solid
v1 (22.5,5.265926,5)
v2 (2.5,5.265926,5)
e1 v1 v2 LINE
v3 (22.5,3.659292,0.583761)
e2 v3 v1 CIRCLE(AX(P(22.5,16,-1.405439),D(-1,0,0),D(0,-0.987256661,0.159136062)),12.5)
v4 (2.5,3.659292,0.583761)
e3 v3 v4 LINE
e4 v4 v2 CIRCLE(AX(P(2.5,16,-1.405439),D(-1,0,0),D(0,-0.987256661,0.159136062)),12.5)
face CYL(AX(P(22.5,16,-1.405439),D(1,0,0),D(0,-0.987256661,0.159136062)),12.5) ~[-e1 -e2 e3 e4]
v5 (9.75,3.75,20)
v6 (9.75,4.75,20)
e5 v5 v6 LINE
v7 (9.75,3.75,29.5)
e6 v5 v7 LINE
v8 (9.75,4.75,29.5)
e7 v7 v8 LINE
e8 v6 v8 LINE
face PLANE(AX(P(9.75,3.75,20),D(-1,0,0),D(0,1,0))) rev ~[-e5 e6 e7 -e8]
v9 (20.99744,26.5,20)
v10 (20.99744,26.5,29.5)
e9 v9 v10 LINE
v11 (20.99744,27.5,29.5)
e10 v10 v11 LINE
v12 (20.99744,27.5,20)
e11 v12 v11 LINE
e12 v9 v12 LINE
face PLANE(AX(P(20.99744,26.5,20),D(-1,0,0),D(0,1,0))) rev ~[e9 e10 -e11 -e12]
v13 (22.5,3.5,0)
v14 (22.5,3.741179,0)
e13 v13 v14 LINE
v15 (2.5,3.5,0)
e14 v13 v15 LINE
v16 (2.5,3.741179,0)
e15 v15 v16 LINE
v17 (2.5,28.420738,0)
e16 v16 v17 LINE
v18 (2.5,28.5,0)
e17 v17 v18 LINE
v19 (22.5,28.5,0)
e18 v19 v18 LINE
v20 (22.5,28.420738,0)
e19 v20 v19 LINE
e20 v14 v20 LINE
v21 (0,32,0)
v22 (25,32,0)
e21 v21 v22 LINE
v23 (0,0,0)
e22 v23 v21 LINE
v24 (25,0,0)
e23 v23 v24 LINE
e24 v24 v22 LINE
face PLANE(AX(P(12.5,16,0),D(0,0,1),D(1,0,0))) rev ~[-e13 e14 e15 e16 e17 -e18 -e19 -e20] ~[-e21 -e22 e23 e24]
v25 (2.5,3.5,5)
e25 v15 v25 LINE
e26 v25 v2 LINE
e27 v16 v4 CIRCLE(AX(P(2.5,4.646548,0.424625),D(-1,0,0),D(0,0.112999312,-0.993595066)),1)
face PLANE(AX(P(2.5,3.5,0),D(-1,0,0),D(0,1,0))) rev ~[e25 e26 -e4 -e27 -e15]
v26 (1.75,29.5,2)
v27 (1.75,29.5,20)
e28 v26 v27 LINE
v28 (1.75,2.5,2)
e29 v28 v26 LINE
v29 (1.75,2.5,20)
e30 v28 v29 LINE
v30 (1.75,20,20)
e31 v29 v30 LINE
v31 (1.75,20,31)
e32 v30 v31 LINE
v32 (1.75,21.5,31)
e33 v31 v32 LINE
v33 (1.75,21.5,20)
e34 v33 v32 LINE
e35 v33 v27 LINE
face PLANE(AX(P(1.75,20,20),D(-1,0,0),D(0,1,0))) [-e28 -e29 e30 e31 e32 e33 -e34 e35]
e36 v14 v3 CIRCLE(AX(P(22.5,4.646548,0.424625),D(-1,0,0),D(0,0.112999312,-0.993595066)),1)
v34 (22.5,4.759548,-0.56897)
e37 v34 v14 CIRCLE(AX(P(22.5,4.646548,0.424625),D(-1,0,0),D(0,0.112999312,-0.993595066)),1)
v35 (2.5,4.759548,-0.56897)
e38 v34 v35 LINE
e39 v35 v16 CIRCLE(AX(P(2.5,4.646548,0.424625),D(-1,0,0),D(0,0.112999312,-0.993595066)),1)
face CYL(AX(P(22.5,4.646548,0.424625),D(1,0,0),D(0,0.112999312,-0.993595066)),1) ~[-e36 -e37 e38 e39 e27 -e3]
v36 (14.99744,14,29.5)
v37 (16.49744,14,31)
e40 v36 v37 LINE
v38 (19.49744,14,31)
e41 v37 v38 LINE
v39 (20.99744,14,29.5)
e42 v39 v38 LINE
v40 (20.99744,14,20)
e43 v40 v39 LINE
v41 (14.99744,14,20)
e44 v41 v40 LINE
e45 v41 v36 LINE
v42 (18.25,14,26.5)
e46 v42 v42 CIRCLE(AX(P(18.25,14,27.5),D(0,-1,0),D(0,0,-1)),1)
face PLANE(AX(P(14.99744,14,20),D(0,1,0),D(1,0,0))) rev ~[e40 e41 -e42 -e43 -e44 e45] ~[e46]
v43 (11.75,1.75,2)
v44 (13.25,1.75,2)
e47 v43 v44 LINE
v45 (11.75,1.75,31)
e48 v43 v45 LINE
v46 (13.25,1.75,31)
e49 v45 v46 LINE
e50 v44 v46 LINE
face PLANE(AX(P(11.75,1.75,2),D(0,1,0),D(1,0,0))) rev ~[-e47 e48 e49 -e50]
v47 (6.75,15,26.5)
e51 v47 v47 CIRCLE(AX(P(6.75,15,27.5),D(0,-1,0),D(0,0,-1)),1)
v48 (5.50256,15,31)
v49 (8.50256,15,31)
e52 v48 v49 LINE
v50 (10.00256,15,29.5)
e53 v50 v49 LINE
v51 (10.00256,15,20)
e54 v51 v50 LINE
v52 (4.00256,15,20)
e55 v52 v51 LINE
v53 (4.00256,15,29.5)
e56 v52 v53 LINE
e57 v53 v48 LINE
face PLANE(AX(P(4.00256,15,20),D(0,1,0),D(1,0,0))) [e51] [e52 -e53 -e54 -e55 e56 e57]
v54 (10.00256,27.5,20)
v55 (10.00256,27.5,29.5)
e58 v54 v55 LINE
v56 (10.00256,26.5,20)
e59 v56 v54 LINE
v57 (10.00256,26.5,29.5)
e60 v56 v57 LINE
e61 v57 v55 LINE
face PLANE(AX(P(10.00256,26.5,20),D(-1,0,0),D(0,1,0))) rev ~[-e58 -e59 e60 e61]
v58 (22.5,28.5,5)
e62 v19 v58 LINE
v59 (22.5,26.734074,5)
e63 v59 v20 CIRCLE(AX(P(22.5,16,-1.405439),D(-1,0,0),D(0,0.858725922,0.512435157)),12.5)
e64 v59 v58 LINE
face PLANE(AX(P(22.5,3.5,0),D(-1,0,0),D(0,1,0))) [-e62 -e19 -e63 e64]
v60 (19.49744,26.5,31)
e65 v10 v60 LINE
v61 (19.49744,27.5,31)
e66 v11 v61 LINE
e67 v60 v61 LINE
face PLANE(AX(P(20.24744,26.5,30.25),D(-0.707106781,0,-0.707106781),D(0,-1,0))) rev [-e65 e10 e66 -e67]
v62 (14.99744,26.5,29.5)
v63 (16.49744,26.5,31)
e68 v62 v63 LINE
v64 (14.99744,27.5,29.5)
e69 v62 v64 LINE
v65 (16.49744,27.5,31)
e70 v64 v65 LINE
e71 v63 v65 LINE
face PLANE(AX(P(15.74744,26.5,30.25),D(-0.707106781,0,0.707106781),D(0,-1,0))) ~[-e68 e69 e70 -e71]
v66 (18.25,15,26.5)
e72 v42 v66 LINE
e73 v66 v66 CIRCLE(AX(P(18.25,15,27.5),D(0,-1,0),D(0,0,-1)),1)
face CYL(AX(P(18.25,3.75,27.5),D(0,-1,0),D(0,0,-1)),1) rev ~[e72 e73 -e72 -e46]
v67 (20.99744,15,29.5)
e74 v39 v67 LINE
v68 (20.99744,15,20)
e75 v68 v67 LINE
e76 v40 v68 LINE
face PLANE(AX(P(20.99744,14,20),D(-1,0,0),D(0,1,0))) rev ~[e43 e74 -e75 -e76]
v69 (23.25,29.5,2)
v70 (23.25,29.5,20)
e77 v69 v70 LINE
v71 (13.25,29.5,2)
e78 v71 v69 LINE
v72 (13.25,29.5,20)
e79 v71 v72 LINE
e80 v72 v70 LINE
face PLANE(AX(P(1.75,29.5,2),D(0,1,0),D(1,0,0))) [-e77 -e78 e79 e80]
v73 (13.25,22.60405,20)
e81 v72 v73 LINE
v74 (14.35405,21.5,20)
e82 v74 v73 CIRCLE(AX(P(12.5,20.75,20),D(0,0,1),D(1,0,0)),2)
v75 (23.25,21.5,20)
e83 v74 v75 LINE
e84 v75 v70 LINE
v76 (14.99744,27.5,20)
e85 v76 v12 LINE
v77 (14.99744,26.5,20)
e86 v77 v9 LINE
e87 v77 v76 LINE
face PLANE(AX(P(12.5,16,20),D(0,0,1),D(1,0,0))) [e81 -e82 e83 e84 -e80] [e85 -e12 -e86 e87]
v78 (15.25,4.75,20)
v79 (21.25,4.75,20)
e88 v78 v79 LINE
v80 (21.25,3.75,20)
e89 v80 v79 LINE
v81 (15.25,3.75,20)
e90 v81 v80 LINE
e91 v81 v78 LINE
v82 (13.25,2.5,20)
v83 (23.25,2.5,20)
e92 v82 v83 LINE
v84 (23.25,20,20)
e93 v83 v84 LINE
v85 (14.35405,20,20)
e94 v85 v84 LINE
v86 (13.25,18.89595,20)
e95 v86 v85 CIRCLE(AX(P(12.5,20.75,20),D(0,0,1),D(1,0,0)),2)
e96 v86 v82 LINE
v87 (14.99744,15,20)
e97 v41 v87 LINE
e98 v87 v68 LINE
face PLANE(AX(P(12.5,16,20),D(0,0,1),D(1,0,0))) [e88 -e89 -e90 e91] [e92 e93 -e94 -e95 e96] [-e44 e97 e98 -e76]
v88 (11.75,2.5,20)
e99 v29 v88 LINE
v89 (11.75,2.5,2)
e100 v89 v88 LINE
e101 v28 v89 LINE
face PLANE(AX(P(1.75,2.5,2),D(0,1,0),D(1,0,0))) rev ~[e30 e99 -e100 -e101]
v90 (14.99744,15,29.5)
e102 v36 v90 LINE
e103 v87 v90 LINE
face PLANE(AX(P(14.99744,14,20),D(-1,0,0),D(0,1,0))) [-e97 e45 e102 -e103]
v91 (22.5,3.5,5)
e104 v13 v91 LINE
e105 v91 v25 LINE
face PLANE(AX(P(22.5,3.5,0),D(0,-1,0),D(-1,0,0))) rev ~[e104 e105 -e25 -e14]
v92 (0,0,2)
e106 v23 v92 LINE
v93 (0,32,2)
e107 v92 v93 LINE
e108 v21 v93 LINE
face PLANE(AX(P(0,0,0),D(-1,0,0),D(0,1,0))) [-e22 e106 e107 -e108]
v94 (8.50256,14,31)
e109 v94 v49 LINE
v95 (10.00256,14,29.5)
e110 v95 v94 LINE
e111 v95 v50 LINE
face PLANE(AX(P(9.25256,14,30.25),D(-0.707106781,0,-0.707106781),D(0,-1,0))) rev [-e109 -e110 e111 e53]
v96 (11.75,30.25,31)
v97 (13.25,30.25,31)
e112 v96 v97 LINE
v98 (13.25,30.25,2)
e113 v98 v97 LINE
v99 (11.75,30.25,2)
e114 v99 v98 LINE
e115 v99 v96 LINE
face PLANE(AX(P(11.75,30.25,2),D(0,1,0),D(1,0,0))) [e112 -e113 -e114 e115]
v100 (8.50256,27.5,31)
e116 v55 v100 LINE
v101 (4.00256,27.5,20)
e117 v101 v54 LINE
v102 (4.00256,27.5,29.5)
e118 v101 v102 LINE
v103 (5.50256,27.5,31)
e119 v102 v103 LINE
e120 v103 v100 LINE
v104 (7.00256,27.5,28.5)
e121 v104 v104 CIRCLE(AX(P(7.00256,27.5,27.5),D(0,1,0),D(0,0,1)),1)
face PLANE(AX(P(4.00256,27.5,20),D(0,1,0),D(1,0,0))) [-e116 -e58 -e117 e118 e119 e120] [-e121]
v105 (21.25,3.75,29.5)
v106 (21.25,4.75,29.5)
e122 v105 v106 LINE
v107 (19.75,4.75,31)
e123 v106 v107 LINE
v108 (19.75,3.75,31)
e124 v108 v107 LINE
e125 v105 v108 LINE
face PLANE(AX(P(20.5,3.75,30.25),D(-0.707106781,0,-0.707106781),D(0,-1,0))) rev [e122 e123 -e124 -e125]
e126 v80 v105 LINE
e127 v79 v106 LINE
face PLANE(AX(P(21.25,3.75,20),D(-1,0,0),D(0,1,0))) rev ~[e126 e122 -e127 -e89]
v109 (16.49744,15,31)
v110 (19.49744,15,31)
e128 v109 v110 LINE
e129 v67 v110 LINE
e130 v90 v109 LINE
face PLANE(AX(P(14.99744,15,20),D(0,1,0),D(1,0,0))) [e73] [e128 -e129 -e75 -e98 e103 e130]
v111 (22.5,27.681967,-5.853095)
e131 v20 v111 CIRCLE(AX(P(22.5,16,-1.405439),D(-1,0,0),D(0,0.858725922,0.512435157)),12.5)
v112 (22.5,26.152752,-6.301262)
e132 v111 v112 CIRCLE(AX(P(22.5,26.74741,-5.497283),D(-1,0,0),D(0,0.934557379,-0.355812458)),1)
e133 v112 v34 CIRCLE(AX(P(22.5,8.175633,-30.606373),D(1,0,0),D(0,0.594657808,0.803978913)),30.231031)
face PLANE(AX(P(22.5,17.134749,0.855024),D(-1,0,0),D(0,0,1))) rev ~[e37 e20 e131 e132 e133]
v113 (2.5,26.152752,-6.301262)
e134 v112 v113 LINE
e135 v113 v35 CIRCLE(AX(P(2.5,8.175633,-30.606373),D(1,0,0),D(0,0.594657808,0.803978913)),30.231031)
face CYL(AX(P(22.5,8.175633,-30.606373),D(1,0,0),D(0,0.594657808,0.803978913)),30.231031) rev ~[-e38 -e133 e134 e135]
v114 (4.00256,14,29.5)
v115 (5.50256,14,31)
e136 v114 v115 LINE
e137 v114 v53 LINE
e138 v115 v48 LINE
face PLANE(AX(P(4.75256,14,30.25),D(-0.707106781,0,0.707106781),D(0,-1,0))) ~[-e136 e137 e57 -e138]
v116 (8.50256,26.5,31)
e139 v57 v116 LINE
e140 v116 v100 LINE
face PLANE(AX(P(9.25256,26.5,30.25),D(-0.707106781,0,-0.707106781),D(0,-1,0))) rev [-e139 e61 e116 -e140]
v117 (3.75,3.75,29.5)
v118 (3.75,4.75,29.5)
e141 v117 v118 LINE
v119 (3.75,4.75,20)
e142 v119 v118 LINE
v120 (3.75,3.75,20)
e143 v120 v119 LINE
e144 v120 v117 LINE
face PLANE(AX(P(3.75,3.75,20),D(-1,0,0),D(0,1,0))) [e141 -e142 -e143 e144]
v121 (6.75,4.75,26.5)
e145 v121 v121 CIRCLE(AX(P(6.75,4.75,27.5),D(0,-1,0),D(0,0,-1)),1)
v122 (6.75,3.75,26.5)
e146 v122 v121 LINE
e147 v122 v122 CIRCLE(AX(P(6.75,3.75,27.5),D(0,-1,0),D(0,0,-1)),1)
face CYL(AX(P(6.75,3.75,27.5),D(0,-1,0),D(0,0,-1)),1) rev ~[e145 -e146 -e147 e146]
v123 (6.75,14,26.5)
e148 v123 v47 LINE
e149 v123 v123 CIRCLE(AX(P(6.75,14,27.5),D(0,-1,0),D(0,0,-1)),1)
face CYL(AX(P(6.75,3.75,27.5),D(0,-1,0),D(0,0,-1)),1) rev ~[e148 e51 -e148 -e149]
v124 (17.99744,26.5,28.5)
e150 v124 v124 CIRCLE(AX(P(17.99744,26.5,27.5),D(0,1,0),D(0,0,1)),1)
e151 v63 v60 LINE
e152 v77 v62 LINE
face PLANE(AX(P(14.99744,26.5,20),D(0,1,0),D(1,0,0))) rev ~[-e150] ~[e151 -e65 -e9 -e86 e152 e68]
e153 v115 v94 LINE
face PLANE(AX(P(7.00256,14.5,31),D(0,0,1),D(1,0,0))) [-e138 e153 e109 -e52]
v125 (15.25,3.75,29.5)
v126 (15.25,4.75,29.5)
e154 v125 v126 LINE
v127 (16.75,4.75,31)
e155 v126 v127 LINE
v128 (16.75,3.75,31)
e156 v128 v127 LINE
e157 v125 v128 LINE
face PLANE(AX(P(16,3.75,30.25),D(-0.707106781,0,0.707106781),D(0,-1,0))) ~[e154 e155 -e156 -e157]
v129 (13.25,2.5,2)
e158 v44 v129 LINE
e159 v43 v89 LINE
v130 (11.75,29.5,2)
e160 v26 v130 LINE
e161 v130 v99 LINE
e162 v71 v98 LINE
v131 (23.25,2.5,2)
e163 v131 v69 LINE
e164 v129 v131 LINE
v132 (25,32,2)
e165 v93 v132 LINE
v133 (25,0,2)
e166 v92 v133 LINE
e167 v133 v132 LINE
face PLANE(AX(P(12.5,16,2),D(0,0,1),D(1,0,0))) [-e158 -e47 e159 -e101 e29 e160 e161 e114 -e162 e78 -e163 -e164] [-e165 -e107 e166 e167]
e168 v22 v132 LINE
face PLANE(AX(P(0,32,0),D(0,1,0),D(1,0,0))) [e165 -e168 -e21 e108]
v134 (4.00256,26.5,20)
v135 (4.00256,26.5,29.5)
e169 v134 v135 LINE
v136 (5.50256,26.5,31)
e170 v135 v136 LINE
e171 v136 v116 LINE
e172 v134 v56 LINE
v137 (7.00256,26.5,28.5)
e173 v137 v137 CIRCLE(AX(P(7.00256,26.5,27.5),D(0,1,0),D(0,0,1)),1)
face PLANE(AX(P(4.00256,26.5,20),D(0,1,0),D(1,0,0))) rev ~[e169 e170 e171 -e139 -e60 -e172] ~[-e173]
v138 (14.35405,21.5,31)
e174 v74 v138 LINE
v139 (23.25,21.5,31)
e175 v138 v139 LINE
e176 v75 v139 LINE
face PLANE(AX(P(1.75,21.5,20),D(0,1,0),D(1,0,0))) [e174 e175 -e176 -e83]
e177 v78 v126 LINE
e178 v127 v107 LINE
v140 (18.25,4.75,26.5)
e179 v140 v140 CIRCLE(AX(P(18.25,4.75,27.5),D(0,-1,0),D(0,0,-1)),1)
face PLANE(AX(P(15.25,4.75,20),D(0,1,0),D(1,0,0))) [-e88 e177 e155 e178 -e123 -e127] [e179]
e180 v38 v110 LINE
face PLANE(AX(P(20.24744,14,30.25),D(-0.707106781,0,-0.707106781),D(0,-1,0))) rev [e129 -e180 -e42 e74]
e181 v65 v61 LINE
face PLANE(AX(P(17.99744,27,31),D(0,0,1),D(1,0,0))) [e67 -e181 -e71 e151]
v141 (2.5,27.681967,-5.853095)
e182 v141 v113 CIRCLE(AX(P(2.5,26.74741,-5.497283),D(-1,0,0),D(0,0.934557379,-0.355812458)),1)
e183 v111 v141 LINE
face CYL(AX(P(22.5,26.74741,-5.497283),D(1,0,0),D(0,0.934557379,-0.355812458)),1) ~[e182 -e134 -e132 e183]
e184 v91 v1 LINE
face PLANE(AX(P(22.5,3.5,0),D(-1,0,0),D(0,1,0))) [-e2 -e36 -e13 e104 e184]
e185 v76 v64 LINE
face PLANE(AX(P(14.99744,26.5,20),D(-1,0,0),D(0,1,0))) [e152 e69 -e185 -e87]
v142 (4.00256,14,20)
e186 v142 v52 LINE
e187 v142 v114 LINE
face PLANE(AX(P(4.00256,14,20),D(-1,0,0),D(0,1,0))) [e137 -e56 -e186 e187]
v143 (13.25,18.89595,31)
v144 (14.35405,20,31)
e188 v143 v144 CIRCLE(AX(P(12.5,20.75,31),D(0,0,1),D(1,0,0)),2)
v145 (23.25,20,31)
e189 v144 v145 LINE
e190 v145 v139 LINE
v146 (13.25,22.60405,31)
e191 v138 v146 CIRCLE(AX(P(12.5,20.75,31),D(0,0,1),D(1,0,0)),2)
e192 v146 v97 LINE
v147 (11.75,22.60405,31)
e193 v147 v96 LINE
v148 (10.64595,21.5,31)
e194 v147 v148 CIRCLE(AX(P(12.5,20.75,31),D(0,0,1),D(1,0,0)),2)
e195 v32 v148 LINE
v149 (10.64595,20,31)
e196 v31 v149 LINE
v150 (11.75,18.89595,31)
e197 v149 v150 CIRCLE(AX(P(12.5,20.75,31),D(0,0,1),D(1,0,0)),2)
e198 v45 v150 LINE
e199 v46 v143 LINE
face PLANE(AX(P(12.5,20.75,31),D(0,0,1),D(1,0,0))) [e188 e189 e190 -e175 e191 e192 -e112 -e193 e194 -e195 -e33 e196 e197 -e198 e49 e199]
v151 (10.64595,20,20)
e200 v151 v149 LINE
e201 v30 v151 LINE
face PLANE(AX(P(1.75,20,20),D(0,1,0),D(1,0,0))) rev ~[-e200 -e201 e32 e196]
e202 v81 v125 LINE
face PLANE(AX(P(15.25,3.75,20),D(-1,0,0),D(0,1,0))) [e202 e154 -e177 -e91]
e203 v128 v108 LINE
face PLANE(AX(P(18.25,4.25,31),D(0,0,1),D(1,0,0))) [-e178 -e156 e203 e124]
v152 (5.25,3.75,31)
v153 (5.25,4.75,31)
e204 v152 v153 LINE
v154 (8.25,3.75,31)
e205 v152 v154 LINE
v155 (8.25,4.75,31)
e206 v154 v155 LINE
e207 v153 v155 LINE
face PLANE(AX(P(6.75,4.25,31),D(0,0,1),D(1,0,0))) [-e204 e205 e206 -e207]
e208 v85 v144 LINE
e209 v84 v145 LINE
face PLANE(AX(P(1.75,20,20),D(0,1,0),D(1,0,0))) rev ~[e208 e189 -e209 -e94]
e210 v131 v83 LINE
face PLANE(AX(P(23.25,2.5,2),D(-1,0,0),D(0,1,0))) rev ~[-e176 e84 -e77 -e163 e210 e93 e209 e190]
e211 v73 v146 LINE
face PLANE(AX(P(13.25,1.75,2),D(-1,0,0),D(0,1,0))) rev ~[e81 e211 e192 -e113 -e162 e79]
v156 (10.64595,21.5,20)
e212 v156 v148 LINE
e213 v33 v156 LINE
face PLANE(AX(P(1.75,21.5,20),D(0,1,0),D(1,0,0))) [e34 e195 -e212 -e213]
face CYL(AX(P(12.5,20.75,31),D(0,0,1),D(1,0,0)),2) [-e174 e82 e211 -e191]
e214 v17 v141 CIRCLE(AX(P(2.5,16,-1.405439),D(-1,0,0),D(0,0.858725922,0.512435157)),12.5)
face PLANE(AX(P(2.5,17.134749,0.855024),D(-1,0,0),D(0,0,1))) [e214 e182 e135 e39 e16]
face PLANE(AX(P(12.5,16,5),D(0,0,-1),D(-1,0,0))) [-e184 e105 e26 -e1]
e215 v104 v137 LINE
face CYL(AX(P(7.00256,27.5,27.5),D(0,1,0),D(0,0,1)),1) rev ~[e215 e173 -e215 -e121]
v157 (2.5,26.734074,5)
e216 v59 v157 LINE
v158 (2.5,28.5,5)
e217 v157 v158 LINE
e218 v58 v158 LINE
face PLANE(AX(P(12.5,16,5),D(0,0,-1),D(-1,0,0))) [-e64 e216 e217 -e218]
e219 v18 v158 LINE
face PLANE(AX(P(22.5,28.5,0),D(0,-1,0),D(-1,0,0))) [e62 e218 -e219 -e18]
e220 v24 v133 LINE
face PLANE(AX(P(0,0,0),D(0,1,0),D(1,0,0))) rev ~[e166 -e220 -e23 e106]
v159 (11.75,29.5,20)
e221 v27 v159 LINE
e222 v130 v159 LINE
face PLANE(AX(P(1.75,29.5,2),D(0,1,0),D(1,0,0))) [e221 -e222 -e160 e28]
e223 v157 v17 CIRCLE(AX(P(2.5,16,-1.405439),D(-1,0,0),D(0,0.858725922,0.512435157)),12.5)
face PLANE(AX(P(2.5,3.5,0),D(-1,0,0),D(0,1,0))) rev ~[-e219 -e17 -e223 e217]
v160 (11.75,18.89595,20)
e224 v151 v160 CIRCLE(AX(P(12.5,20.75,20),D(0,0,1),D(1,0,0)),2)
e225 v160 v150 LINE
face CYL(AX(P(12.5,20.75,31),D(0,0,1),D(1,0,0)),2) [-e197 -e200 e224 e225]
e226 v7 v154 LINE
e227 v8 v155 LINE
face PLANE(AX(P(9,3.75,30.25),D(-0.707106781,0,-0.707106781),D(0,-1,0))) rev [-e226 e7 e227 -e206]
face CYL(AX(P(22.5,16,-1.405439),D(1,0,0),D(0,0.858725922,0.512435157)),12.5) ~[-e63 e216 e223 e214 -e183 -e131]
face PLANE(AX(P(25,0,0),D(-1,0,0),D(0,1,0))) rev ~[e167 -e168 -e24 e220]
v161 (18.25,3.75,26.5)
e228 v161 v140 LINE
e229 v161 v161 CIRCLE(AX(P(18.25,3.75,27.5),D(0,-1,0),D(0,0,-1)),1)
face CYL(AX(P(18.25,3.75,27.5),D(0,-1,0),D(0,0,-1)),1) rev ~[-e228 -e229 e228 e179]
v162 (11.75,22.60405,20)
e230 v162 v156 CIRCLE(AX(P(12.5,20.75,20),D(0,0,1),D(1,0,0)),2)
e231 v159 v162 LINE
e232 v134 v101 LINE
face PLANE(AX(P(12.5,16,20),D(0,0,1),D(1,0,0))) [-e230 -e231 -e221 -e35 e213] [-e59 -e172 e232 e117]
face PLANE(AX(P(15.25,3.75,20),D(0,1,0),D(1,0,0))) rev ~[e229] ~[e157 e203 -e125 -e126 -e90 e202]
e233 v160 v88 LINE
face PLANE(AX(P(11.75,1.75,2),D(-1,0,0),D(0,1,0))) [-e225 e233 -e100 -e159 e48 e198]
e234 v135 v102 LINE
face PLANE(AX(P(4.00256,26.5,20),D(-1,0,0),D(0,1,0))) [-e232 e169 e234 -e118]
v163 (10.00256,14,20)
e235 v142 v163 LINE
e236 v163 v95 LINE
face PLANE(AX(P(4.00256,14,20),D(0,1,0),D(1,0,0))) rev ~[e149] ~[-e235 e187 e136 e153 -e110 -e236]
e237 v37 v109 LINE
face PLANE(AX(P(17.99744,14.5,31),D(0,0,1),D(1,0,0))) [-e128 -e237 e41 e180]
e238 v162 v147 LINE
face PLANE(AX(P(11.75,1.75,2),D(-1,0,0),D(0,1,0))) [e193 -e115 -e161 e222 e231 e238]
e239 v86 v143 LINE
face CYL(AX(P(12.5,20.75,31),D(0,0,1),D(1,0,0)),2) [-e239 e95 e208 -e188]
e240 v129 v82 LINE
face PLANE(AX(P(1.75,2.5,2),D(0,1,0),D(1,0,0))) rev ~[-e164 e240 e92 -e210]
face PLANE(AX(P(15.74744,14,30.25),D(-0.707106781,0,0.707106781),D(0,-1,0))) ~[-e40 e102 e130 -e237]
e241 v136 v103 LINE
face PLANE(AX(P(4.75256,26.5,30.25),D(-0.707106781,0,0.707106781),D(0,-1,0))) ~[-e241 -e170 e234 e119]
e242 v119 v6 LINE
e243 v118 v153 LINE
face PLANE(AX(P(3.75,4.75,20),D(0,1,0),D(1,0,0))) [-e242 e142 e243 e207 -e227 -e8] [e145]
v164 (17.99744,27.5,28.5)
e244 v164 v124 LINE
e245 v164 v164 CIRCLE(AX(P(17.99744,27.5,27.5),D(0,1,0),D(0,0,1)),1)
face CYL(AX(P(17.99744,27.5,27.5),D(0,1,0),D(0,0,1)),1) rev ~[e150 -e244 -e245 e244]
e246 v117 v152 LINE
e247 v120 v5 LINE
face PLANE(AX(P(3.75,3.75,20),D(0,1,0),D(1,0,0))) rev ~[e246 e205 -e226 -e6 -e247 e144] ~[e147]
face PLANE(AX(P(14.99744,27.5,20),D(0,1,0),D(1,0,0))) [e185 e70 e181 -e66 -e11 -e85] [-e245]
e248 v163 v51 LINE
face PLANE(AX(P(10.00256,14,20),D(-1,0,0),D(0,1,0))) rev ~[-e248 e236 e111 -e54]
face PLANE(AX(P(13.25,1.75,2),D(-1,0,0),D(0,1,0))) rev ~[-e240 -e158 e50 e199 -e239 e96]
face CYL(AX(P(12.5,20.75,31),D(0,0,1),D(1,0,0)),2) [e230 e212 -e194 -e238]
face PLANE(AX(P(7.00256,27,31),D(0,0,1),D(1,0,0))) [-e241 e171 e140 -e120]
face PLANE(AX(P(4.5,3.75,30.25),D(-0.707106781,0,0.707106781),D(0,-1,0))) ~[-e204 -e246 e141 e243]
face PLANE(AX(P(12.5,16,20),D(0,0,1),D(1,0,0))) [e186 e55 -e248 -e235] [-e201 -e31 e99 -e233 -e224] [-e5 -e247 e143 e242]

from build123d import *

# Parameters (mm, degrees)
SKETCH_1_W          = 25
SKETCH_1_H          = 32
EXTRUDE_1_DEPTH     = 2
SKETCH_2_W          = 21.5
SKETCH_2_H          = 27
EXTRUDE_2_DEPTH     = 18
SKETCH_3_W          = 1.5
SKETCH_3_H          = 28.5
EXTRUDE_3_DEPTH     = 29
SKETCH_4_W          = 21.5
SKETCH_4_H          = 1.5
EXTRUDE_4_DEPTH     = 11
SKETCH_6_R          = 2
EXTRUDE_5_DEPTH     = 11
SKETCH_7_W          = 6
SKETCH_7_H          = 1
EXTRUDE_6_DEPTH     = 11
SKETCH_8_R          = 1
CUT_EXTRUDE_1_DEPTH = 15
SKETCH_9_R          = 1
CUT_EXTRUDE_2_DEPTH = 5
CHAMFER_1_SIZE      = 1.5
SKETCH_10_W         = 20
SKETCH_10_H         = 25
CUT_EXTRUDE_3_DEPTH = 5
EXTRUDE_7_DEPTH     = 20


with BuildPart() as part:
    # Эскиз1 → Бобышка-Вытянуть1 (new body)
    with BuildSketch(Plane.XY):
        with Locations((12.5, 16)):
            Rectangle(SKETCH_1_W, SKETCH_1_H)
    extrude(amount=EXTRUDE_1_DEPTH)

    # Эскиз2 → Бобышка-Вытянуть2 (add)
    with BuildSketch(Plane.XY.offset(2)):
        with Locations((12.5, 16)):
            Rectangle(SKETCH_2_W, SKETCH_2_H)
    extrude(amount=EXTRUDE_2_DEPTH)

    # Эскиз3 → Бобышка-Вытянуть3 (add)
    with BuildSketch(Plane.XY.offset(2)):
        with Locations((12.5, 16)):
            Rectangle(SKETCH_3_W, SKETCH_3_H)
    extrude(amount=EXTRUDE_3_DEPTH)

    # Эскиз4 → Бобышка-Вытянуть4 (add)
    with BuildSketch(Plane.XY.offset(20)):
        with Locations((12.5, 20.75)):
            Rectangle(SKETCH_4_W, SKETCH_4_H)
    extrude(amount=EXTRUDE_4_DEPTH)

    # Эскиз6 → Бобышка-Вытянуть5 (add)
    with BuildSketch(Plane.XY.offset(31)):
        with Locations((12.5, 20.75)):
            Circle(SKETCH_6_R)
    extrude(amount=-EXTRUDE_5_DEPTH)

    # Эскиз7 → Бобышка-Вытянуть6 (add)
    with BuildSketch(Plane.XY.offset(20)):
        with Locations((7.002560395, 27)):
            Rectangle(SKETCH_7_W, SKETCH_7_H)
        with Locations((6.75, 4.25)):
            Rectangle(SKETCH_7_W, SKETCH_7_H)
        with Locations((7.002560395, 14.5)):
            Rectangle(SKETCH_7_W, SKETCH_7_H)
        with Locations((18.25, 4.25)):
            Rectangle(SKETCH_7_W, SKETCH_7_H)
        with Locations((17.997439605, 14.5)):
            Rectangle(SKETCH_7_W, SKETCH_7_H)
        with Locations((17.997439605, 27)):
            Rectangle(SKETCH_7_W, SKETCH_7_H)
    extrude(amount=EXTRUDE_6_DEPTH)

    # Эскиз8 → Вырез-Вытянуть1 (cut)
    with BuildSketch(Plane.XZ.offset(-3.75)):
        with Locations(Location((6.75, 27.5, 0), (0, 0, 270))):
            Circle(SKETCH_8_R)
        with Locations(Location((18.25, 27.5, 0), (0, 0, 270))):
            Circle(SKETCH_8_R)
    extrude(amount=-CUT_EXTRUDE_1_DEPTH, mode=Mode.SUBTRACT)

    # Эскиз9 → Вырез-Вытянуть2 (cut)
    with BuildSketch(Plane(origin=(0, 27.5, 0), x_dir=(1, 0, 0), z_dir=(0, 1, 0))):
        with Locations(Location((17.997439605, -27.5, 0), (0, 0, 270))):
            Circle(SKETCH_9_R)
        with Locations(Location((7.002560395, -27.5, 0), (0, 0, 270))):
            Circle(SKETCH_9_R)
    extrude(amount=-CUT_EXTRUDE_2_DEPTH, mode=Mode.SUBTRACT)

    # Фаска1
    chamfer_1_edges = [part.edges().sort_by_distance(p)[0] for p in [
        (4.002560395, 27, 31),
        (10.002560395, 27, 31),
        (9.75, 4.25, 31),
        (3.75, 4.25, 31),
        (10.002560395, 14.5, 31),
        (4.002560395, 14.5, 31),
        (21.25, 4.25, 31),
        (15.25, 4.25, 31),
        (20.997439605, 14.5, 31),
        (14.997439605, 14.5, 31),
        (14.997439605, 27, 31),
        (20.997439605, 27, 31),
    ]]
    chamfer(chamfer_1_edges, length=CHAMFER_1_SIZE)

    # Эскиз10 → Вырез-Вытянуть3 (cut)
    with BuildSketch(Plane(origin=(0, 0, 0), x_dir=(-1, 0, 0), z_dir=(0, 0, -1))):
        with Locations((-12.5, 16)):
            Rectangle(SKETCH_10_W, SKETCH_10_H)
    extrude(amount=-CUT_EXTRUDE_3_DEPTH, mode=Mode.SUBTRACT)

    # Эскиз12 → Бобышка-Вытянуть7 (add)
    with BuildSketch(Plane.ZY.offset(-22.5)):
        with BuildLine():
            Line((5, 5.26592597), (5, 26.73407403))
            ThreePointArc((5, 26.73407403), (-0.317848235, 28.452595927), (-5.853095184, 27.68196724))
            ThreePointArc((-5.853095184, 27.68196724), (-6.456920042, 27.028650367), (-6.301261639, 26.152752053))
            ThreePointArc((-6.301261639, 26.152752053), (-1.405439464, 16), (-0.568969813, 4.759547716))
            ThreePointArc((-0.568969813, 4.759547716), (-0.265824787, 3.923168323), (0.583761316, 3.659291744))
            ThreePointArc((0.583761316, 3.659291744), (2.86806198, 4.253205313), (5, 5.26592597))
        make_face()
    extrude(amount=EXTRUDE_7_DEPTH)


solid = part.part
